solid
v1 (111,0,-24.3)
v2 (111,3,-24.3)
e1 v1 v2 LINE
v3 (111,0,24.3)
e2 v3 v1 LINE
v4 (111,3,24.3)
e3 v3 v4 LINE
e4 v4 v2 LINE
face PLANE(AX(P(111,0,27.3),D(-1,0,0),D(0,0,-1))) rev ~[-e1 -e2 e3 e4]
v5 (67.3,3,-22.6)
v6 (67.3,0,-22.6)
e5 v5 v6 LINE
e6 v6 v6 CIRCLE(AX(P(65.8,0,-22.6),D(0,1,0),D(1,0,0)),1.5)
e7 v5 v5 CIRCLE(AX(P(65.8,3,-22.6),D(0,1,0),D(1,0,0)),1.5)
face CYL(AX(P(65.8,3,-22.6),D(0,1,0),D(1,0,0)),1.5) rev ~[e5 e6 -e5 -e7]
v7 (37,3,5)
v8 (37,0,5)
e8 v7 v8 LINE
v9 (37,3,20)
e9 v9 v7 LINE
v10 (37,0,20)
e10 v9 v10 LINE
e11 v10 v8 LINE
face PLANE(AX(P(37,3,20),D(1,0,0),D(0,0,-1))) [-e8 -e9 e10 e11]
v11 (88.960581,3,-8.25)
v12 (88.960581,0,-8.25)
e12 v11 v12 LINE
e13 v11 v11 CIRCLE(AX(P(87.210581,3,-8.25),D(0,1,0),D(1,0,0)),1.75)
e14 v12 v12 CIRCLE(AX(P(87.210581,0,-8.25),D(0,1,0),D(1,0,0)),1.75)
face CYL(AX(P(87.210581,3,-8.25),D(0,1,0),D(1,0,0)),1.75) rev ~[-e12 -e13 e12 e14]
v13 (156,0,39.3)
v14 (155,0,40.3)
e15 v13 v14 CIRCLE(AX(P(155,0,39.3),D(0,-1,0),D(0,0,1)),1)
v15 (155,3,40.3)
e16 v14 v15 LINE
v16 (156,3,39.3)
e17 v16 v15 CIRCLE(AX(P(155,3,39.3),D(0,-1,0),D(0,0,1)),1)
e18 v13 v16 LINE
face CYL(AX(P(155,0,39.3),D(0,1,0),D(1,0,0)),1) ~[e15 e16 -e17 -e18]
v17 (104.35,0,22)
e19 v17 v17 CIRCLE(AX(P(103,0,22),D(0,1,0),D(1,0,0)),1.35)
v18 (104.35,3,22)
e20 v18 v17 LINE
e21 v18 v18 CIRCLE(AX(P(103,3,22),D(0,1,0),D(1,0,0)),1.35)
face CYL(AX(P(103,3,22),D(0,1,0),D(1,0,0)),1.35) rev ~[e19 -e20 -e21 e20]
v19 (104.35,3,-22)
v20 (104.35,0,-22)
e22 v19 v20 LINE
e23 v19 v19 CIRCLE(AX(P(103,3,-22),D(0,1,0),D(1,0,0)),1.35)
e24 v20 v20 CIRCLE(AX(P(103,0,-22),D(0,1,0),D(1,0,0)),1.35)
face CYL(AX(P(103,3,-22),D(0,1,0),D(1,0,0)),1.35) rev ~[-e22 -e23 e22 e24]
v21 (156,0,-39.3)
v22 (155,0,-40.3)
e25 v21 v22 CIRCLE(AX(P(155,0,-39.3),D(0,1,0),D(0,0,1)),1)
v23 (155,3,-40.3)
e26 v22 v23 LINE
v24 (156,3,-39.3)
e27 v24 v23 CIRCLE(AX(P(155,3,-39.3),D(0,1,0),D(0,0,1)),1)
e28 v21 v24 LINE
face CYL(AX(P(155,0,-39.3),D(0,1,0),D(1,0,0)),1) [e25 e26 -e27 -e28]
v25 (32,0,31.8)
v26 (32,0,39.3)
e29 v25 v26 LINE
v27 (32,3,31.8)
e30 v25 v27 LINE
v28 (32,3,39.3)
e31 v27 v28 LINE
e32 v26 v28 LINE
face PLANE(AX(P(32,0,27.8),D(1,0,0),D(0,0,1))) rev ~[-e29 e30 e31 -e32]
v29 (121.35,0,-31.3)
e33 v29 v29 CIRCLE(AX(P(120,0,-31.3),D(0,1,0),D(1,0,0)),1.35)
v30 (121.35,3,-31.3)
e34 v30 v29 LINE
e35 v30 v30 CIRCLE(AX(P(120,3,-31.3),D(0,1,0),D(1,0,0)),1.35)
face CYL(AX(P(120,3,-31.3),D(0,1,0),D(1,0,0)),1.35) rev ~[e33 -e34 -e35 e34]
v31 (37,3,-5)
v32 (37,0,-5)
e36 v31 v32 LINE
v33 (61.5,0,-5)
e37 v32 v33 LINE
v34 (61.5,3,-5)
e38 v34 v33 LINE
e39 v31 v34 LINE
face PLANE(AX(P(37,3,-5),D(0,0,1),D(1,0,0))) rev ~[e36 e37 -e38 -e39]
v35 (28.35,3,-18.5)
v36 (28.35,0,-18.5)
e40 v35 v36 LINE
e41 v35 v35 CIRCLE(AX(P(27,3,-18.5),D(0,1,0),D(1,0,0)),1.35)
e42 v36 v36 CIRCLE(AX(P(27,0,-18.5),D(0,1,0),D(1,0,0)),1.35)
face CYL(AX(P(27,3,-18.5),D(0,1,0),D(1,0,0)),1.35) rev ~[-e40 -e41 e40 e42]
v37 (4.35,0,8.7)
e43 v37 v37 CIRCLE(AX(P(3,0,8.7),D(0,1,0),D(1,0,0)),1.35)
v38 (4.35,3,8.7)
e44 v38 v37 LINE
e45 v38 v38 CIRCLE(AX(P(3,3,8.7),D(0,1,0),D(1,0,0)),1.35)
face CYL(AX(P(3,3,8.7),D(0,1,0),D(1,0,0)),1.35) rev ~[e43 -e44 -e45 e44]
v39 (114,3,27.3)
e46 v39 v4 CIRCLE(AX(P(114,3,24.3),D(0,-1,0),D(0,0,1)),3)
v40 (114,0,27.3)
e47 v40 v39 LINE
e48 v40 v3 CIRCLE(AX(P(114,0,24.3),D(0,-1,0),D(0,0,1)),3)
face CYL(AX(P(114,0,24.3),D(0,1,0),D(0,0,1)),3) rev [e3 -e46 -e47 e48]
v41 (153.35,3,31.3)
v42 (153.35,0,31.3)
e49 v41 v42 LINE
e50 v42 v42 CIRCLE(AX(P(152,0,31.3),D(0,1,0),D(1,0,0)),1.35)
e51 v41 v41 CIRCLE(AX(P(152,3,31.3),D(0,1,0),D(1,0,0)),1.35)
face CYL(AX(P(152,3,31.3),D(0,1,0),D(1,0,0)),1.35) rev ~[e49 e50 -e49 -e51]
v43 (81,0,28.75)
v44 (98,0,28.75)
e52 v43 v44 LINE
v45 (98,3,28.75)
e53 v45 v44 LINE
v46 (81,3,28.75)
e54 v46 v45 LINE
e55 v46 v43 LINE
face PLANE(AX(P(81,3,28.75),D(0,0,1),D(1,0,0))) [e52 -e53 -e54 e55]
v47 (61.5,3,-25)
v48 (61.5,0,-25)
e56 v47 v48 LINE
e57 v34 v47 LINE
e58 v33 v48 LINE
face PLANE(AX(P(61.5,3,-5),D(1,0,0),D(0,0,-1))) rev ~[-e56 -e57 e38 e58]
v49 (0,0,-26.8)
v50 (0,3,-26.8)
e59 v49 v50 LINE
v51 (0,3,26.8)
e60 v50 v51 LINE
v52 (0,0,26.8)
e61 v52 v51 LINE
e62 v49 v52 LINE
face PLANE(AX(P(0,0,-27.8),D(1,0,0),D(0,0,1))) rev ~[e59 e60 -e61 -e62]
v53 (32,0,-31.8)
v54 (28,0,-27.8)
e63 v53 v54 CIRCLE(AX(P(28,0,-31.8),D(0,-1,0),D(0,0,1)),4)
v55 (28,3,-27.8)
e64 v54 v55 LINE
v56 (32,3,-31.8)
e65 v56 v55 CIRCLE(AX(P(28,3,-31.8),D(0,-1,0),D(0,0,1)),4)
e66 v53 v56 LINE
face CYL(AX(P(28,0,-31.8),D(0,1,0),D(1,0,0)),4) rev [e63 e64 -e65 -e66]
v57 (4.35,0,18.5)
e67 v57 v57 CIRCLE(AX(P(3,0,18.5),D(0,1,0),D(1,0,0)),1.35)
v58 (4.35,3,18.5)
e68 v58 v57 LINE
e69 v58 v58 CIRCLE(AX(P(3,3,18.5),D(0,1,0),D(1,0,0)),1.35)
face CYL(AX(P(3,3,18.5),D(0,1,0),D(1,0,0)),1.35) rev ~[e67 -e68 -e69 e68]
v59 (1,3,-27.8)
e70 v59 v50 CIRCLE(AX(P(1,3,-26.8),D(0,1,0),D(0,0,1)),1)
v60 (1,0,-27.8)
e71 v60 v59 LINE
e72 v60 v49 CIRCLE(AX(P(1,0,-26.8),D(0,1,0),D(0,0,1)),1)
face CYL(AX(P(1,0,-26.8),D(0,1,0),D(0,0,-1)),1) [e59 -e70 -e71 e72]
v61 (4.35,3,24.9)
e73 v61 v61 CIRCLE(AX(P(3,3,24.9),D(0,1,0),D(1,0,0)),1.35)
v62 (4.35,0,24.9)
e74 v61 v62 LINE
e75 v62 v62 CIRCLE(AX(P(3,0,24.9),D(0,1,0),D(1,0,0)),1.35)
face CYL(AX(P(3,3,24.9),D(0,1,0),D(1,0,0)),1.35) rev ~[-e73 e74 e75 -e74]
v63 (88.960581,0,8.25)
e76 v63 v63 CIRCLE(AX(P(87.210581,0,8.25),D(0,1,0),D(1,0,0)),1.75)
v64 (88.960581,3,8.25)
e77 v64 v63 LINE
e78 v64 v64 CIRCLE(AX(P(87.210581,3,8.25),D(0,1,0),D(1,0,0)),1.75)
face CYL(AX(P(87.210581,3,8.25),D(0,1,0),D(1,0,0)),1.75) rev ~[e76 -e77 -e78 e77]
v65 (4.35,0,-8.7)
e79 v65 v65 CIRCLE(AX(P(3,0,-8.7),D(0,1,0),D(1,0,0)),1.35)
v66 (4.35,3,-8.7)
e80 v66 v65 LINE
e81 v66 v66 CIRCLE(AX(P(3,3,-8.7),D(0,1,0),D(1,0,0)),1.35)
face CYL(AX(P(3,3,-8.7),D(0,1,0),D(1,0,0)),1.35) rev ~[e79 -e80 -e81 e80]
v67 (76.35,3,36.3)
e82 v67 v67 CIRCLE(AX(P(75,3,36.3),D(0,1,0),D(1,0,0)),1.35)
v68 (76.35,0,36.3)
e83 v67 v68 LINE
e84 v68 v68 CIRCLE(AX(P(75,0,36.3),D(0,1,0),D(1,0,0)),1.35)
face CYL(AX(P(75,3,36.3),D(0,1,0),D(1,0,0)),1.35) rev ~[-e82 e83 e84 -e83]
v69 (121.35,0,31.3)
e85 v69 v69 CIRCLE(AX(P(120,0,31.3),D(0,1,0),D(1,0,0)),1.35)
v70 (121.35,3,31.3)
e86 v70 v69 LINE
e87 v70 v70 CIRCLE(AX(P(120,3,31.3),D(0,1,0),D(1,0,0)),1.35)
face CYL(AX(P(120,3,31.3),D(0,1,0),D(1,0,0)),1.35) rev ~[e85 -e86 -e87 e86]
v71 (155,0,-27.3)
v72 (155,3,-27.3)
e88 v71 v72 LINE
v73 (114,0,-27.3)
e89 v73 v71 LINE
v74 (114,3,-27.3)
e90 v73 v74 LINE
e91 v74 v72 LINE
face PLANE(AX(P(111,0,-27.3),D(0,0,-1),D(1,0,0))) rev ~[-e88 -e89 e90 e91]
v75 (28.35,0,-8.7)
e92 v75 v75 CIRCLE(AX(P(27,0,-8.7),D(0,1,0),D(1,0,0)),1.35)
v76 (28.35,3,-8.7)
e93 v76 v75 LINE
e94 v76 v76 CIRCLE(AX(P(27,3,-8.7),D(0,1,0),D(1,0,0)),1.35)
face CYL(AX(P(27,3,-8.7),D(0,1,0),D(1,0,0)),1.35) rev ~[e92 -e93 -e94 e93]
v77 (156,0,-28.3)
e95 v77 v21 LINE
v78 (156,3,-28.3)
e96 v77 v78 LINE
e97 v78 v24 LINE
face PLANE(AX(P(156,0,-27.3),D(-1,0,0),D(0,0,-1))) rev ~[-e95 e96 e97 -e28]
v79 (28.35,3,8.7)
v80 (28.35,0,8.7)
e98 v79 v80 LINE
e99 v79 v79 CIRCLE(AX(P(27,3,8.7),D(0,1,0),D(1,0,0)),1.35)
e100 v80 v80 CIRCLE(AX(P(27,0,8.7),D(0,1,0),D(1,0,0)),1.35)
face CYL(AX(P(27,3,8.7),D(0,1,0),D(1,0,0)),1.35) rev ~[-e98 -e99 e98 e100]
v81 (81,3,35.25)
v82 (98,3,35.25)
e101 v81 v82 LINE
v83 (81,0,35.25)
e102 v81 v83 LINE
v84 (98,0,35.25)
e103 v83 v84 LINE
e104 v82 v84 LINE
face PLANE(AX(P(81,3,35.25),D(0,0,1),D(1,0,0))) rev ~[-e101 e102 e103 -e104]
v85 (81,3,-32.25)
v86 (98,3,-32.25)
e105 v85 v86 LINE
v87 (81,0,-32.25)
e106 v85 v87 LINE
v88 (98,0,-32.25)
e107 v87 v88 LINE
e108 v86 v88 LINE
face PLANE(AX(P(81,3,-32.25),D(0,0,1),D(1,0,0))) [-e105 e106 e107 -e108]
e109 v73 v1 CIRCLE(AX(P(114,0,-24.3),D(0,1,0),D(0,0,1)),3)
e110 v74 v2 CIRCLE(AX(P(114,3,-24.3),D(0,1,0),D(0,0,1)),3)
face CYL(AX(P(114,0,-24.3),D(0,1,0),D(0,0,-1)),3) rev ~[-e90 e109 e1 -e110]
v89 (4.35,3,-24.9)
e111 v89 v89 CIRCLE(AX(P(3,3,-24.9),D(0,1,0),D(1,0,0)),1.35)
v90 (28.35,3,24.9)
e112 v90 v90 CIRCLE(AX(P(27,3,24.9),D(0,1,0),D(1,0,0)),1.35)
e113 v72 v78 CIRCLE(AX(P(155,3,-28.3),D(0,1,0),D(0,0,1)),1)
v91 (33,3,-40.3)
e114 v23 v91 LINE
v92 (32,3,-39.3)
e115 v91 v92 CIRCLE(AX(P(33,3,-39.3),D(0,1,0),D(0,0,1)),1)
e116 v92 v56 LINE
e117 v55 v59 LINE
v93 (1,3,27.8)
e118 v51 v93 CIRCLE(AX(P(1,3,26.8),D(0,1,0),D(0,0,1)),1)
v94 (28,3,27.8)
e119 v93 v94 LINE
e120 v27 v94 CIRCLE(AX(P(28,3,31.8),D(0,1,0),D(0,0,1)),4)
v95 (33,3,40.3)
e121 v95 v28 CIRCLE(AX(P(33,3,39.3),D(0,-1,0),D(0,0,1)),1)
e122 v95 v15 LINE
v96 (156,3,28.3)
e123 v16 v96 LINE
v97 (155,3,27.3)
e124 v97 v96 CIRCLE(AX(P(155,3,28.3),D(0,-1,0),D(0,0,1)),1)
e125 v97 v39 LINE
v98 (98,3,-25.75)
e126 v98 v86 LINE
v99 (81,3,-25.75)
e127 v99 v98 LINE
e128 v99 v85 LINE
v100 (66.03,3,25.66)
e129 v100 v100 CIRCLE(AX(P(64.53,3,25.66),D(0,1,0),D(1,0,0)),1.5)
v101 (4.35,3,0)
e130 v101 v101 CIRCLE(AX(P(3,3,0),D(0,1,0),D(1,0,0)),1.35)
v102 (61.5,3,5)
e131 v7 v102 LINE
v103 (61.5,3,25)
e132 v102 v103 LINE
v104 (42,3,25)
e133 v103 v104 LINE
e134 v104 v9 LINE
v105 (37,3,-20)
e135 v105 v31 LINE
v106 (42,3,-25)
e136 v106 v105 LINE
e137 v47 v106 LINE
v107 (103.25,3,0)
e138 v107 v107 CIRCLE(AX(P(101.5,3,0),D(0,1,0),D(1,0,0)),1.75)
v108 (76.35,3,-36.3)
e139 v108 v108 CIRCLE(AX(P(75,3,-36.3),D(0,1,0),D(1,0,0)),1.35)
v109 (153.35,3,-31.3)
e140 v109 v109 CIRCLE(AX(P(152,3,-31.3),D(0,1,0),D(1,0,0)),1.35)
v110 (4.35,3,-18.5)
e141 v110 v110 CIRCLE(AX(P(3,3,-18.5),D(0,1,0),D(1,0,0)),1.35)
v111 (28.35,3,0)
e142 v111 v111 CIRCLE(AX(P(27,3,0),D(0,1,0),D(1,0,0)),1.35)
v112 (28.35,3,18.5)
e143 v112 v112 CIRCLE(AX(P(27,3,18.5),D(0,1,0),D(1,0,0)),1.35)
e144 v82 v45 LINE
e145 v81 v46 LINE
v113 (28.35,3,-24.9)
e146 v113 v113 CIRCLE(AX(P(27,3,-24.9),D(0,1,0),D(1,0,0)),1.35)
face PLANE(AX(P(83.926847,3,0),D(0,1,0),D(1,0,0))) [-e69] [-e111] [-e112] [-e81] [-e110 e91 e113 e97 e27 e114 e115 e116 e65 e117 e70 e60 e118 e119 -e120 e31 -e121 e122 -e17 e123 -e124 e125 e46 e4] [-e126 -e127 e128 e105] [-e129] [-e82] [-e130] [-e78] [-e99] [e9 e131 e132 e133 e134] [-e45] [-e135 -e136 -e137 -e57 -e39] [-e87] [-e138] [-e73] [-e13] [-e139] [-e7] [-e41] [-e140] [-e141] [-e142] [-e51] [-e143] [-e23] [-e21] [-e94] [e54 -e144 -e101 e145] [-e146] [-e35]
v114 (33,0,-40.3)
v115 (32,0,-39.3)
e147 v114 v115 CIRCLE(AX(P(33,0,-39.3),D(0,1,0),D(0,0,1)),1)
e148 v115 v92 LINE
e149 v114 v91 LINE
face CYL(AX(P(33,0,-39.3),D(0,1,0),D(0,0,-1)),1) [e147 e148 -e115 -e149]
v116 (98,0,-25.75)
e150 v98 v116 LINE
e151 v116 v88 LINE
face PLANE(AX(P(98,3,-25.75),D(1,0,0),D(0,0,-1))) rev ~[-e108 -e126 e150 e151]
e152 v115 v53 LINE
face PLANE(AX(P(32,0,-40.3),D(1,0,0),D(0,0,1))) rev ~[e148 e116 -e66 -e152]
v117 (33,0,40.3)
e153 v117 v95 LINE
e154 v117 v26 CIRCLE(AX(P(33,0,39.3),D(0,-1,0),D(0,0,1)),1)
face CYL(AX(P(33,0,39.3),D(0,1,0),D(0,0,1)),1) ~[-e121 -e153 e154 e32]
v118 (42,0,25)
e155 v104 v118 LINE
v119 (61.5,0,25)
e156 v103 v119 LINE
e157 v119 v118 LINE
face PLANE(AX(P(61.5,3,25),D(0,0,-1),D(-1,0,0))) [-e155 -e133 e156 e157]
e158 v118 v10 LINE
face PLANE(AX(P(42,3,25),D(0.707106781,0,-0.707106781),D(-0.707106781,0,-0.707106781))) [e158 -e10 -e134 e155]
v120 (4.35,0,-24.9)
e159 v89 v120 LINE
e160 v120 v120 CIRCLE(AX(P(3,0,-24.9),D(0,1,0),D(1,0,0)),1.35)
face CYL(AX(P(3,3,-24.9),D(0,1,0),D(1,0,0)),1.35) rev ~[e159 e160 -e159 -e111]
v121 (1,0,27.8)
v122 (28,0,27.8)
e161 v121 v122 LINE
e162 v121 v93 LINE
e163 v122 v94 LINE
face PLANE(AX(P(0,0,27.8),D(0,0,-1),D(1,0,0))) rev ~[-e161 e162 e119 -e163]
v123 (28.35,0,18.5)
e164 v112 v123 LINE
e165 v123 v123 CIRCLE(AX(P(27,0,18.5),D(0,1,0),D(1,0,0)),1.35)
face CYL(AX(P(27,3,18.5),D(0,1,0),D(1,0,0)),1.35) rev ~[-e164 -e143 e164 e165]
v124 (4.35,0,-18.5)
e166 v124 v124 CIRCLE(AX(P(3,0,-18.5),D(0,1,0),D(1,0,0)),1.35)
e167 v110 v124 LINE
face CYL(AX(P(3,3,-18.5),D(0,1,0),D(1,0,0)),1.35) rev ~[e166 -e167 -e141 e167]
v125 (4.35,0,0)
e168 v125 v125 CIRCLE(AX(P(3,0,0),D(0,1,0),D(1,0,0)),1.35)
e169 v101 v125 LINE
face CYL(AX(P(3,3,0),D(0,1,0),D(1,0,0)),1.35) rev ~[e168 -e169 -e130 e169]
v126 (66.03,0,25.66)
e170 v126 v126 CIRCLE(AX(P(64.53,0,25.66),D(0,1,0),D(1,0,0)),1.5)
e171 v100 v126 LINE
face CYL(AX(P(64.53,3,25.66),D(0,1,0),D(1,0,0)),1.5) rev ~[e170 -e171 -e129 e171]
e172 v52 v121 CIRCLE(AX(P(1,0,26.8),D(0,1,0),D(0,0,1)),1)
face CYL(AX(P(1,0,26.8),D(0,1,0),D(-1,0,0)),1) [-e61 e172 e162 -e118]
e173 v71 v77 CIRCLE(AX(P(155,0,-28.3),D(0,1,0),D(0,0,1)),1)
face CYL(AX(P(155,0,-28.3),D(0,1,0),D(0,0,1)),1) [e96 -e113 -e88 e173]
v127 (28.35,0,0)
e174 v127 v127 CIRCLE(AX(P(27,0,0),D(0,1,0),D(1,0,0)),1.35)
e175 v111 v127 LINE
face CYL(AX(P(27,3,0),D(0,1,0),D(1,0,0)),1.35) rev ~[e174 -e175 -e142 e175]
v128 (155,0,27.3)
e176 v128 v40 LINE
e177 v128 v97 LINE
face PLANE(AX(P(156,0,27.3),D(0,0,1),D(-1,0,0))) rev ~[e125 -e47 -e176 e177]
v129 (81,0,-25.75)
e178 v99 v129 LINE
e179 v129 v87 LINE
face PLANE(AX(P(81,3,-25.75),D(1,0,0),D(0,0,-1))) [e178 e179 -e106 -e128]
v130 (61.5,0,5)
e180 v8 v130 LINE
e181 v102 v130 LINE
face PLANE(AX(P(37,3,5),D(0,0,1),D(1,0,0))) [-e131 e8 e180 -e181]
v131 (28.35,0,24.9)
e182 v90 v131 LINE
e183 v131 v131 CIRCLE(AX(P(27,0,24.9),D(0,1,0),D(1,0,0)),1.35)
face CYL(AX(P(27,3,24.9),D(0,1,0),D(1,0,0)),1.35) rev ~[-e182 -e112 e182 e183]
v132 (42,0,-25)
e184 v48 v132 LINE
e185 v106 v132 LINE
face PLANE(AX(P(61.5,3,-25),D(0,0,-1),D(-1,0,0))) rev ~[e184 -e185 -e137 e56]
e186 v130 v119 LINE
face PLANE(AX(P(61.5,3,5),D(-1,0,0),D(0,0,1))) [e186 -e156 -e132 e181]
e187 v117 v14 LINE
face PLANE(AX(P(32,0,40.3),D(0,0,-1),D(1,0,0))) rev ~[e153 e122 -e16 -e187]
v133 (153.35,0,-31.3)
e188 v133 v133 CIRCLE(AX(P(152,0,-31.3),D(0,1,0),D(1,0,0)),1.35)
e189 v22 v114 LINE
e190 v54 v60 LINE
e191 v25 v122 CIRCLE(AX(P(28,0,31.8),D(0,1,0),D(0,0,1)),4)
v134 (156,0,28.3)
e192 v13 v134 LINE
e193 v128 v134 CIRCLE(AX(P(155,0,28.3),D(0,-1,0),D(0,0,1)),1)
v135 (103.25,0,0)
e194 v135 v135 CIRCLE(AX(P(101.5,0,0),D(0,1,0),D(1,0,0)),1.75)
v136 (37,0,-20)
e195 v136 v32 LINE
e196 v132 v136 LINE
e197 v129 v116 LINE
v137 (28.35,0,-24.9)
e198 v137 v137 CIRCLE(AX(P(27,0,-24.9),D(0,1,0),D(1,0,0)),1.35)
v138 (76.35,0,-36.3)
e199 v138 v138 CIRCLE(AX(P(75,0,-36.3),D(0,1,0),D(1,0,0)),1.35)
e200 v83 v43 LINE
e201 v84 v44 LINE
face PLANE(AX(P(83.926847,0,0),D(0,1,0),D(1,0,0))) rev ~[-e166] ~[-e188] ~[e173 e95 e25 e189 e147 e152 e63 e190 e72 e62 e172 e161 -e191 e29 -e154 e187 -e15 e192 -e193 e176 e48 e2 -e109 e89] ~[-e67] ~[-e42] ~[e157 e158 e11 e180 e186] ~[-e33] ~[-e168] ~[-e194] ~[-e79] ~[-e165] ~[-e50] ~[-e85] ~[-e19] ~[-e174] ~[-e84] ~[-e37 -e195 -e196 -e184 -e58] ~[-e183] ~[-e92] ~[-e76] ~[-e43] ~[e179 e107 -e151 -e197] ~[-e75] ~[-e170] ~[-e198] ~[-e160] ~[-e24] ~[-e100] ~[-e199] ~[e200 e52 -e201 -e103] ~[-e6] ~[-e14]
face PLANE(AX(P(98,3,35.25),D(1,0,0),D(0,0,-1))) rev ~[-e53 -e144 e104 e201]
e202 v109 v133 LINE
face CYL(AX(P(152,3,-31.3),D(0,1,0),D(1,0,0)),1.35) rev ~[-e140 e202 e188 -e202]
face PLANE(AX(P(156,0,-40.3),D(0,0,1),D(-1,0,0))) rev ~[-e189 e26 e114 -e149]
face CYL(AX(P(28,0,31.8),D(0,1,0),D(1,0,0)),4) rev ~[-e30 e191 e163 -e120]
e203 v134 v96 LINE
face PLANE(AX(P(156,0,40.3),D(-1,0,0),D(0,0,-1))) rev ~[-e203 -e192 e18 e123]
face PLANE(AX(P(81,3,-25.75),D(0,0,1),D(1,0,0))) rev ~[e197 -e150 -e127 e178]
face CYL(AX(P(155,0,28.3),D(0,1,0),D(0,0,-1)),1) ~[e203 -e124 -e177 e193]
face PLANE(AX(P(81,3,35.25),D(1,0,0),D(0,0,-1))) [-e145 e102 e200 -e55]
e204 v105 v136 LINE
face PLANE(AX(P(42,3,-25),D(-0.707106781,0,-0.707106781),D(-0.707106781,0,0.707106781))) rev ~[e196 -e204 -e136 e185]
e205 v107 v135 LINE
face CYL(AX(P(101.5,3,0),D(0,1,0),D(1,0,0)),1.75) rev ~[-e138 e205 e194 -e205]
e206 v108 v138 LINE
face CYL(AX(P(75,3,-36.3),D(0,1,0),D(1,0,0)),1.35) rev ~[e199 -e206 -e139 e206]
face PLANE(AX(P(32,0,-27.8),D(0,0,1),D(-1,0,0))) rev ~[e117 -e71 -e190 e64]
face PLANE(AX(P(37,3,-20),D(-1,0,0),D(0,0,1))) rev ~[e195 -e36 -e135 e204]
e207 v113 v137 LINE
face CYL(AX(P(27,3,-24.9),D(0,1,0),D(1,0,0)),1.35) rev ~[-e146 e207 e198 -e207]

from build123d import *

# Parameters (mm, degrees)
BOSS_EXTRUDE1_DEPTH = 3
SKETCH2_R           = 1.35
CUT_EXTRUDE1_DEPTH  = 4
SKETCH4_R           = 1.35
CUT_EXTRUDE2_DEPTH  = 4
SKETCH5_R           = 1.35
CUT_EXTRUDE3_DEPTH  = 4
SKETCH6_R           = 1.35
CUT_EXTRUDE4_DEPTH  = 4
FILLET1_R           = 3
SKETCH7_R           = 1.75
CUT_EXTRUDE5_DEPTH  = 4
LPATTERN1_COUNT     = 2
LPATTERN1_PITCH     = 24
SKETCH8_R           = 1.35
CUT_EXTRUDE6_DEPTH  = 4
SKETCH9_R           = 1.5
CUT_EXTRUDE7_DEPTH  = 4
CUT_EXTRUDE8_DEPTH  = 4
FILLET2_R           = 1
FILLET3_R           = 4
SKETCH11_W          = 17
SKETCH11_H          = 6.5
CUT_EXTRUDE9_DEPTH  = 4


with BuildPart() as part:
    # Sketch1 → Boss-Extrude1 (new body)
    with BuildSketch(Plane(origin=(0, 0, 0), x_dir=(1, 0, 0), z_dir=(0, 1, 0))):
        Polygon((0, 27.8), (0, -27.8), (32, -27.8), (32, -40.3), (156, -40.3), (156, -27.3), (111, -27.3), (111, 27.3), (156, 27.3), (156, 40.3), (32, 40.3), (32, 27.8), align=None)
    extrude(amount=BOSS_EXTRUDE1_DEPTH)

    # Sketch2 → Cut-Extrude1 (cut, through all)
    with BuildSketch(Plane(origin=(0, 3, 0), x_dir=(1, 0, 0), z_dir=(0, 1, 0))):
        with Locations((3, 8.7)):
            Circle(SKETCH2_R)
        with Locations((3, 24.9)):
            Circle(SKETCH2_R)
        with Locations((3, -8.7)):
            Circle(SKETCH2_R)
        with Locations((3, -24.9)):
            Circle(SKETCH2_R)
    cut_extrude1 = extrude(amount=-CUT_EXTRUDE1_DEPTH, mode=Mode.SUBTRACT)

    # Sketch4 → Cut-Extrude2 (cut, through all)
    with BuildSketch(Plane(origin=(0, 3, 0), x_dir=(1, 0, 0), z_dir=(0, 1, 0))):
        with Locations((75, -36.3)):
            Circle(SKETCH4_R)
        with Locations((75, 36.3)):
            Circle(SKETCH4_R)
    extrude(amount=-CUT_EXTRUDE2_DEPTH, mode=Mode.SUBTRACT)

    # Sketch5 → Cut-Extrude3 (cut, through all)
    with BuildSketch(Plane(origin=(0, 3, 0), x_dir=(1, 0, 0), z_dir=(0, 1, 0))):
        with Locations((103, 22)):
            Circle(SKETCH5_R)
        with Locations((103, -22)):
            Circle(SKETCH5_R)
    extrude(amount=-CUT_EXTRUDE3_DEPTH, mode=Mode.SUBTRACT)

    # Sketch6 → Cut-Extrude4 (cut, through all)
    with BuildSketch(Plane(origin=(0, 3, 0), x_dir=(1, 0, 0), z_dir=(0, 1, 0))):
        with Locations((120, 31.3)):
            Circle(SKETCH6_R)
        with Locations((152, 31.3)):
            Circle(SKETCH6_R)
        with Locations((120, -31.3)):
            Circle(SKETCH6_R)
        with Locations((152, -31.3)):
            Circle(SKETCH6_R)
    extrude(amount=-CUT_EXTRUDE4_DEPTH, mode=Mode.SUBTRACT)

    # Fillet1
    fillet1_edges = [part.edges().sort_by_distance(p)[0] for p in [
        (111, 1.5, 27.3),
        (111, 1.5, -27.3),
    ]]
    fillet(fillet1_edges, radius=FILLET1_R)

    # Sketch7 → Cut-Extrude5 (cut, through all)
    with BuildSketch(Plane(origin=(0, 3, 0), x_dir=(1, 0, 0), z_dir=(0, 1, 0))):
        with Locations((101.5, 0)):
            Circle(SKETCH7_R)
        with Locations((87.210580838, 8.25)):
            Circle(SKETCH7_R)
        with Locations((87.210580838, -8.25)):
            Circle(SKETCH7_R)
    extrude(amount=-CUT_EXTRUDE5_DEPTH, mode=Mode.SUBTRACT)

    # LPattern1: Cut-Extrude1 ×2
    with Locations(*[(i * LPATTERN1_PITCH, 0, 0) for i in range(1, LPATTERN1_COUNT)]):
        add(cut_extrude1, mode=Mode.SUBTRACT)

    # Sketch8 → Cut-Extrude6 (cut, through all)
    with BuildSketch(Plane(origin=(0, 3, 0), x_dir=(1, 0, 0), z_dir=(0, 1, 0))):
        with Locations((3, 18.5)):
            Circle(SKETCH8_R)
        with Locations((27, 18.5)):
            Circle(SKETCH8_R)
        with Locations((3, -18.5)):
            Circle(SKETCH8_R)
        with Locations((27, -18.5)):
            Circle(SKETCH8_R)
        with Locations((3, 0)):
            Circle(SKETCH8_R)
        with Locations((27, 0)):
            Circle(SKETCH8_R)
    extrude(amount=-CUT_EXTRUDE6_DEPTH, mode=Mode.SUBTRACT)

    # Sketch9 → Cut-Extrude7 (cut, through all)
    with BuildSketch(Plane(origin=(0, 3, 0), x_dir=(1, 0, 0), z_dir=(0, 1, 0))):
        with Locations((65.8, 22.6)):
            Circle(SKETCH9_R)
        with Locations((64.53, -25.66)):
            Circle(SKETCH9_R)
    extrude(amount=-CUT_EXTRUDE7_DEPTH, mode=Mode.SUBTRACT)

    # Sketch10 → Cut-Extrude8 (cut, through all)
    with BuildSketch(Plane(origin=(0, 3, 0), x_dir=(1, 0, 0), z_dir=(0, 1, 0))):
        Polygon((37, 5), (61.5, 5), (61.5, 25), (42, 25), (37, 20), align=None)
        Polygon((37, -5), (61.5, -5), (61.5, -25), (42, -25), (37, -20), align=None)
    extrude(amount=-CUT_EXTRUDE8_DEPTH, mode=Mode.SUBTRACT)

    # Fillet2
    fillet2_edges = [part.edges().sort_by_distance(p)[0] for p in [
        (0, 1.5, -27.8),
        (0, 1.5, 27.8),
        (32, 1.5, 40.3),
        (156, 1.5, 40.3),
        (156, 1.5, 27.3),
        (156, 1.5, -27.3),
        (156, 1.5, -40.3),
        (32, 1.5, -40.3),
    ]]
    fillet(fillet2_edges, radius=FILLET2_R)

    # Fillet3
    fillet3_edges = [part.edges().sort_by_distance(p)[0] for p in [
        (32, 1.5, 27.8),
        (32, 1.5, -27.8),
    ]]
    fillet(fillet3_edges, radius=FILLET3_R)

    # Sketch11 → Cut-Extrude9 (cut, through all)
    with BuildSketch(Plane(origin=(0, 3, 0), x_dir=(1, 0, 0), z_dir=(0, 1, 0))):
        with Locations((89.5, 29)):
            Rectangle(SKETCH11_W, SKETCH11_H)
        with Locations((89.5, -32)):
            Rectangle(SKETCH11_W, SKETCH11_H)
    extrude(amount=-CUT_EXTRUDE9_DEPTH, mode=Mode.SUBTRACT)


solid = part.part
